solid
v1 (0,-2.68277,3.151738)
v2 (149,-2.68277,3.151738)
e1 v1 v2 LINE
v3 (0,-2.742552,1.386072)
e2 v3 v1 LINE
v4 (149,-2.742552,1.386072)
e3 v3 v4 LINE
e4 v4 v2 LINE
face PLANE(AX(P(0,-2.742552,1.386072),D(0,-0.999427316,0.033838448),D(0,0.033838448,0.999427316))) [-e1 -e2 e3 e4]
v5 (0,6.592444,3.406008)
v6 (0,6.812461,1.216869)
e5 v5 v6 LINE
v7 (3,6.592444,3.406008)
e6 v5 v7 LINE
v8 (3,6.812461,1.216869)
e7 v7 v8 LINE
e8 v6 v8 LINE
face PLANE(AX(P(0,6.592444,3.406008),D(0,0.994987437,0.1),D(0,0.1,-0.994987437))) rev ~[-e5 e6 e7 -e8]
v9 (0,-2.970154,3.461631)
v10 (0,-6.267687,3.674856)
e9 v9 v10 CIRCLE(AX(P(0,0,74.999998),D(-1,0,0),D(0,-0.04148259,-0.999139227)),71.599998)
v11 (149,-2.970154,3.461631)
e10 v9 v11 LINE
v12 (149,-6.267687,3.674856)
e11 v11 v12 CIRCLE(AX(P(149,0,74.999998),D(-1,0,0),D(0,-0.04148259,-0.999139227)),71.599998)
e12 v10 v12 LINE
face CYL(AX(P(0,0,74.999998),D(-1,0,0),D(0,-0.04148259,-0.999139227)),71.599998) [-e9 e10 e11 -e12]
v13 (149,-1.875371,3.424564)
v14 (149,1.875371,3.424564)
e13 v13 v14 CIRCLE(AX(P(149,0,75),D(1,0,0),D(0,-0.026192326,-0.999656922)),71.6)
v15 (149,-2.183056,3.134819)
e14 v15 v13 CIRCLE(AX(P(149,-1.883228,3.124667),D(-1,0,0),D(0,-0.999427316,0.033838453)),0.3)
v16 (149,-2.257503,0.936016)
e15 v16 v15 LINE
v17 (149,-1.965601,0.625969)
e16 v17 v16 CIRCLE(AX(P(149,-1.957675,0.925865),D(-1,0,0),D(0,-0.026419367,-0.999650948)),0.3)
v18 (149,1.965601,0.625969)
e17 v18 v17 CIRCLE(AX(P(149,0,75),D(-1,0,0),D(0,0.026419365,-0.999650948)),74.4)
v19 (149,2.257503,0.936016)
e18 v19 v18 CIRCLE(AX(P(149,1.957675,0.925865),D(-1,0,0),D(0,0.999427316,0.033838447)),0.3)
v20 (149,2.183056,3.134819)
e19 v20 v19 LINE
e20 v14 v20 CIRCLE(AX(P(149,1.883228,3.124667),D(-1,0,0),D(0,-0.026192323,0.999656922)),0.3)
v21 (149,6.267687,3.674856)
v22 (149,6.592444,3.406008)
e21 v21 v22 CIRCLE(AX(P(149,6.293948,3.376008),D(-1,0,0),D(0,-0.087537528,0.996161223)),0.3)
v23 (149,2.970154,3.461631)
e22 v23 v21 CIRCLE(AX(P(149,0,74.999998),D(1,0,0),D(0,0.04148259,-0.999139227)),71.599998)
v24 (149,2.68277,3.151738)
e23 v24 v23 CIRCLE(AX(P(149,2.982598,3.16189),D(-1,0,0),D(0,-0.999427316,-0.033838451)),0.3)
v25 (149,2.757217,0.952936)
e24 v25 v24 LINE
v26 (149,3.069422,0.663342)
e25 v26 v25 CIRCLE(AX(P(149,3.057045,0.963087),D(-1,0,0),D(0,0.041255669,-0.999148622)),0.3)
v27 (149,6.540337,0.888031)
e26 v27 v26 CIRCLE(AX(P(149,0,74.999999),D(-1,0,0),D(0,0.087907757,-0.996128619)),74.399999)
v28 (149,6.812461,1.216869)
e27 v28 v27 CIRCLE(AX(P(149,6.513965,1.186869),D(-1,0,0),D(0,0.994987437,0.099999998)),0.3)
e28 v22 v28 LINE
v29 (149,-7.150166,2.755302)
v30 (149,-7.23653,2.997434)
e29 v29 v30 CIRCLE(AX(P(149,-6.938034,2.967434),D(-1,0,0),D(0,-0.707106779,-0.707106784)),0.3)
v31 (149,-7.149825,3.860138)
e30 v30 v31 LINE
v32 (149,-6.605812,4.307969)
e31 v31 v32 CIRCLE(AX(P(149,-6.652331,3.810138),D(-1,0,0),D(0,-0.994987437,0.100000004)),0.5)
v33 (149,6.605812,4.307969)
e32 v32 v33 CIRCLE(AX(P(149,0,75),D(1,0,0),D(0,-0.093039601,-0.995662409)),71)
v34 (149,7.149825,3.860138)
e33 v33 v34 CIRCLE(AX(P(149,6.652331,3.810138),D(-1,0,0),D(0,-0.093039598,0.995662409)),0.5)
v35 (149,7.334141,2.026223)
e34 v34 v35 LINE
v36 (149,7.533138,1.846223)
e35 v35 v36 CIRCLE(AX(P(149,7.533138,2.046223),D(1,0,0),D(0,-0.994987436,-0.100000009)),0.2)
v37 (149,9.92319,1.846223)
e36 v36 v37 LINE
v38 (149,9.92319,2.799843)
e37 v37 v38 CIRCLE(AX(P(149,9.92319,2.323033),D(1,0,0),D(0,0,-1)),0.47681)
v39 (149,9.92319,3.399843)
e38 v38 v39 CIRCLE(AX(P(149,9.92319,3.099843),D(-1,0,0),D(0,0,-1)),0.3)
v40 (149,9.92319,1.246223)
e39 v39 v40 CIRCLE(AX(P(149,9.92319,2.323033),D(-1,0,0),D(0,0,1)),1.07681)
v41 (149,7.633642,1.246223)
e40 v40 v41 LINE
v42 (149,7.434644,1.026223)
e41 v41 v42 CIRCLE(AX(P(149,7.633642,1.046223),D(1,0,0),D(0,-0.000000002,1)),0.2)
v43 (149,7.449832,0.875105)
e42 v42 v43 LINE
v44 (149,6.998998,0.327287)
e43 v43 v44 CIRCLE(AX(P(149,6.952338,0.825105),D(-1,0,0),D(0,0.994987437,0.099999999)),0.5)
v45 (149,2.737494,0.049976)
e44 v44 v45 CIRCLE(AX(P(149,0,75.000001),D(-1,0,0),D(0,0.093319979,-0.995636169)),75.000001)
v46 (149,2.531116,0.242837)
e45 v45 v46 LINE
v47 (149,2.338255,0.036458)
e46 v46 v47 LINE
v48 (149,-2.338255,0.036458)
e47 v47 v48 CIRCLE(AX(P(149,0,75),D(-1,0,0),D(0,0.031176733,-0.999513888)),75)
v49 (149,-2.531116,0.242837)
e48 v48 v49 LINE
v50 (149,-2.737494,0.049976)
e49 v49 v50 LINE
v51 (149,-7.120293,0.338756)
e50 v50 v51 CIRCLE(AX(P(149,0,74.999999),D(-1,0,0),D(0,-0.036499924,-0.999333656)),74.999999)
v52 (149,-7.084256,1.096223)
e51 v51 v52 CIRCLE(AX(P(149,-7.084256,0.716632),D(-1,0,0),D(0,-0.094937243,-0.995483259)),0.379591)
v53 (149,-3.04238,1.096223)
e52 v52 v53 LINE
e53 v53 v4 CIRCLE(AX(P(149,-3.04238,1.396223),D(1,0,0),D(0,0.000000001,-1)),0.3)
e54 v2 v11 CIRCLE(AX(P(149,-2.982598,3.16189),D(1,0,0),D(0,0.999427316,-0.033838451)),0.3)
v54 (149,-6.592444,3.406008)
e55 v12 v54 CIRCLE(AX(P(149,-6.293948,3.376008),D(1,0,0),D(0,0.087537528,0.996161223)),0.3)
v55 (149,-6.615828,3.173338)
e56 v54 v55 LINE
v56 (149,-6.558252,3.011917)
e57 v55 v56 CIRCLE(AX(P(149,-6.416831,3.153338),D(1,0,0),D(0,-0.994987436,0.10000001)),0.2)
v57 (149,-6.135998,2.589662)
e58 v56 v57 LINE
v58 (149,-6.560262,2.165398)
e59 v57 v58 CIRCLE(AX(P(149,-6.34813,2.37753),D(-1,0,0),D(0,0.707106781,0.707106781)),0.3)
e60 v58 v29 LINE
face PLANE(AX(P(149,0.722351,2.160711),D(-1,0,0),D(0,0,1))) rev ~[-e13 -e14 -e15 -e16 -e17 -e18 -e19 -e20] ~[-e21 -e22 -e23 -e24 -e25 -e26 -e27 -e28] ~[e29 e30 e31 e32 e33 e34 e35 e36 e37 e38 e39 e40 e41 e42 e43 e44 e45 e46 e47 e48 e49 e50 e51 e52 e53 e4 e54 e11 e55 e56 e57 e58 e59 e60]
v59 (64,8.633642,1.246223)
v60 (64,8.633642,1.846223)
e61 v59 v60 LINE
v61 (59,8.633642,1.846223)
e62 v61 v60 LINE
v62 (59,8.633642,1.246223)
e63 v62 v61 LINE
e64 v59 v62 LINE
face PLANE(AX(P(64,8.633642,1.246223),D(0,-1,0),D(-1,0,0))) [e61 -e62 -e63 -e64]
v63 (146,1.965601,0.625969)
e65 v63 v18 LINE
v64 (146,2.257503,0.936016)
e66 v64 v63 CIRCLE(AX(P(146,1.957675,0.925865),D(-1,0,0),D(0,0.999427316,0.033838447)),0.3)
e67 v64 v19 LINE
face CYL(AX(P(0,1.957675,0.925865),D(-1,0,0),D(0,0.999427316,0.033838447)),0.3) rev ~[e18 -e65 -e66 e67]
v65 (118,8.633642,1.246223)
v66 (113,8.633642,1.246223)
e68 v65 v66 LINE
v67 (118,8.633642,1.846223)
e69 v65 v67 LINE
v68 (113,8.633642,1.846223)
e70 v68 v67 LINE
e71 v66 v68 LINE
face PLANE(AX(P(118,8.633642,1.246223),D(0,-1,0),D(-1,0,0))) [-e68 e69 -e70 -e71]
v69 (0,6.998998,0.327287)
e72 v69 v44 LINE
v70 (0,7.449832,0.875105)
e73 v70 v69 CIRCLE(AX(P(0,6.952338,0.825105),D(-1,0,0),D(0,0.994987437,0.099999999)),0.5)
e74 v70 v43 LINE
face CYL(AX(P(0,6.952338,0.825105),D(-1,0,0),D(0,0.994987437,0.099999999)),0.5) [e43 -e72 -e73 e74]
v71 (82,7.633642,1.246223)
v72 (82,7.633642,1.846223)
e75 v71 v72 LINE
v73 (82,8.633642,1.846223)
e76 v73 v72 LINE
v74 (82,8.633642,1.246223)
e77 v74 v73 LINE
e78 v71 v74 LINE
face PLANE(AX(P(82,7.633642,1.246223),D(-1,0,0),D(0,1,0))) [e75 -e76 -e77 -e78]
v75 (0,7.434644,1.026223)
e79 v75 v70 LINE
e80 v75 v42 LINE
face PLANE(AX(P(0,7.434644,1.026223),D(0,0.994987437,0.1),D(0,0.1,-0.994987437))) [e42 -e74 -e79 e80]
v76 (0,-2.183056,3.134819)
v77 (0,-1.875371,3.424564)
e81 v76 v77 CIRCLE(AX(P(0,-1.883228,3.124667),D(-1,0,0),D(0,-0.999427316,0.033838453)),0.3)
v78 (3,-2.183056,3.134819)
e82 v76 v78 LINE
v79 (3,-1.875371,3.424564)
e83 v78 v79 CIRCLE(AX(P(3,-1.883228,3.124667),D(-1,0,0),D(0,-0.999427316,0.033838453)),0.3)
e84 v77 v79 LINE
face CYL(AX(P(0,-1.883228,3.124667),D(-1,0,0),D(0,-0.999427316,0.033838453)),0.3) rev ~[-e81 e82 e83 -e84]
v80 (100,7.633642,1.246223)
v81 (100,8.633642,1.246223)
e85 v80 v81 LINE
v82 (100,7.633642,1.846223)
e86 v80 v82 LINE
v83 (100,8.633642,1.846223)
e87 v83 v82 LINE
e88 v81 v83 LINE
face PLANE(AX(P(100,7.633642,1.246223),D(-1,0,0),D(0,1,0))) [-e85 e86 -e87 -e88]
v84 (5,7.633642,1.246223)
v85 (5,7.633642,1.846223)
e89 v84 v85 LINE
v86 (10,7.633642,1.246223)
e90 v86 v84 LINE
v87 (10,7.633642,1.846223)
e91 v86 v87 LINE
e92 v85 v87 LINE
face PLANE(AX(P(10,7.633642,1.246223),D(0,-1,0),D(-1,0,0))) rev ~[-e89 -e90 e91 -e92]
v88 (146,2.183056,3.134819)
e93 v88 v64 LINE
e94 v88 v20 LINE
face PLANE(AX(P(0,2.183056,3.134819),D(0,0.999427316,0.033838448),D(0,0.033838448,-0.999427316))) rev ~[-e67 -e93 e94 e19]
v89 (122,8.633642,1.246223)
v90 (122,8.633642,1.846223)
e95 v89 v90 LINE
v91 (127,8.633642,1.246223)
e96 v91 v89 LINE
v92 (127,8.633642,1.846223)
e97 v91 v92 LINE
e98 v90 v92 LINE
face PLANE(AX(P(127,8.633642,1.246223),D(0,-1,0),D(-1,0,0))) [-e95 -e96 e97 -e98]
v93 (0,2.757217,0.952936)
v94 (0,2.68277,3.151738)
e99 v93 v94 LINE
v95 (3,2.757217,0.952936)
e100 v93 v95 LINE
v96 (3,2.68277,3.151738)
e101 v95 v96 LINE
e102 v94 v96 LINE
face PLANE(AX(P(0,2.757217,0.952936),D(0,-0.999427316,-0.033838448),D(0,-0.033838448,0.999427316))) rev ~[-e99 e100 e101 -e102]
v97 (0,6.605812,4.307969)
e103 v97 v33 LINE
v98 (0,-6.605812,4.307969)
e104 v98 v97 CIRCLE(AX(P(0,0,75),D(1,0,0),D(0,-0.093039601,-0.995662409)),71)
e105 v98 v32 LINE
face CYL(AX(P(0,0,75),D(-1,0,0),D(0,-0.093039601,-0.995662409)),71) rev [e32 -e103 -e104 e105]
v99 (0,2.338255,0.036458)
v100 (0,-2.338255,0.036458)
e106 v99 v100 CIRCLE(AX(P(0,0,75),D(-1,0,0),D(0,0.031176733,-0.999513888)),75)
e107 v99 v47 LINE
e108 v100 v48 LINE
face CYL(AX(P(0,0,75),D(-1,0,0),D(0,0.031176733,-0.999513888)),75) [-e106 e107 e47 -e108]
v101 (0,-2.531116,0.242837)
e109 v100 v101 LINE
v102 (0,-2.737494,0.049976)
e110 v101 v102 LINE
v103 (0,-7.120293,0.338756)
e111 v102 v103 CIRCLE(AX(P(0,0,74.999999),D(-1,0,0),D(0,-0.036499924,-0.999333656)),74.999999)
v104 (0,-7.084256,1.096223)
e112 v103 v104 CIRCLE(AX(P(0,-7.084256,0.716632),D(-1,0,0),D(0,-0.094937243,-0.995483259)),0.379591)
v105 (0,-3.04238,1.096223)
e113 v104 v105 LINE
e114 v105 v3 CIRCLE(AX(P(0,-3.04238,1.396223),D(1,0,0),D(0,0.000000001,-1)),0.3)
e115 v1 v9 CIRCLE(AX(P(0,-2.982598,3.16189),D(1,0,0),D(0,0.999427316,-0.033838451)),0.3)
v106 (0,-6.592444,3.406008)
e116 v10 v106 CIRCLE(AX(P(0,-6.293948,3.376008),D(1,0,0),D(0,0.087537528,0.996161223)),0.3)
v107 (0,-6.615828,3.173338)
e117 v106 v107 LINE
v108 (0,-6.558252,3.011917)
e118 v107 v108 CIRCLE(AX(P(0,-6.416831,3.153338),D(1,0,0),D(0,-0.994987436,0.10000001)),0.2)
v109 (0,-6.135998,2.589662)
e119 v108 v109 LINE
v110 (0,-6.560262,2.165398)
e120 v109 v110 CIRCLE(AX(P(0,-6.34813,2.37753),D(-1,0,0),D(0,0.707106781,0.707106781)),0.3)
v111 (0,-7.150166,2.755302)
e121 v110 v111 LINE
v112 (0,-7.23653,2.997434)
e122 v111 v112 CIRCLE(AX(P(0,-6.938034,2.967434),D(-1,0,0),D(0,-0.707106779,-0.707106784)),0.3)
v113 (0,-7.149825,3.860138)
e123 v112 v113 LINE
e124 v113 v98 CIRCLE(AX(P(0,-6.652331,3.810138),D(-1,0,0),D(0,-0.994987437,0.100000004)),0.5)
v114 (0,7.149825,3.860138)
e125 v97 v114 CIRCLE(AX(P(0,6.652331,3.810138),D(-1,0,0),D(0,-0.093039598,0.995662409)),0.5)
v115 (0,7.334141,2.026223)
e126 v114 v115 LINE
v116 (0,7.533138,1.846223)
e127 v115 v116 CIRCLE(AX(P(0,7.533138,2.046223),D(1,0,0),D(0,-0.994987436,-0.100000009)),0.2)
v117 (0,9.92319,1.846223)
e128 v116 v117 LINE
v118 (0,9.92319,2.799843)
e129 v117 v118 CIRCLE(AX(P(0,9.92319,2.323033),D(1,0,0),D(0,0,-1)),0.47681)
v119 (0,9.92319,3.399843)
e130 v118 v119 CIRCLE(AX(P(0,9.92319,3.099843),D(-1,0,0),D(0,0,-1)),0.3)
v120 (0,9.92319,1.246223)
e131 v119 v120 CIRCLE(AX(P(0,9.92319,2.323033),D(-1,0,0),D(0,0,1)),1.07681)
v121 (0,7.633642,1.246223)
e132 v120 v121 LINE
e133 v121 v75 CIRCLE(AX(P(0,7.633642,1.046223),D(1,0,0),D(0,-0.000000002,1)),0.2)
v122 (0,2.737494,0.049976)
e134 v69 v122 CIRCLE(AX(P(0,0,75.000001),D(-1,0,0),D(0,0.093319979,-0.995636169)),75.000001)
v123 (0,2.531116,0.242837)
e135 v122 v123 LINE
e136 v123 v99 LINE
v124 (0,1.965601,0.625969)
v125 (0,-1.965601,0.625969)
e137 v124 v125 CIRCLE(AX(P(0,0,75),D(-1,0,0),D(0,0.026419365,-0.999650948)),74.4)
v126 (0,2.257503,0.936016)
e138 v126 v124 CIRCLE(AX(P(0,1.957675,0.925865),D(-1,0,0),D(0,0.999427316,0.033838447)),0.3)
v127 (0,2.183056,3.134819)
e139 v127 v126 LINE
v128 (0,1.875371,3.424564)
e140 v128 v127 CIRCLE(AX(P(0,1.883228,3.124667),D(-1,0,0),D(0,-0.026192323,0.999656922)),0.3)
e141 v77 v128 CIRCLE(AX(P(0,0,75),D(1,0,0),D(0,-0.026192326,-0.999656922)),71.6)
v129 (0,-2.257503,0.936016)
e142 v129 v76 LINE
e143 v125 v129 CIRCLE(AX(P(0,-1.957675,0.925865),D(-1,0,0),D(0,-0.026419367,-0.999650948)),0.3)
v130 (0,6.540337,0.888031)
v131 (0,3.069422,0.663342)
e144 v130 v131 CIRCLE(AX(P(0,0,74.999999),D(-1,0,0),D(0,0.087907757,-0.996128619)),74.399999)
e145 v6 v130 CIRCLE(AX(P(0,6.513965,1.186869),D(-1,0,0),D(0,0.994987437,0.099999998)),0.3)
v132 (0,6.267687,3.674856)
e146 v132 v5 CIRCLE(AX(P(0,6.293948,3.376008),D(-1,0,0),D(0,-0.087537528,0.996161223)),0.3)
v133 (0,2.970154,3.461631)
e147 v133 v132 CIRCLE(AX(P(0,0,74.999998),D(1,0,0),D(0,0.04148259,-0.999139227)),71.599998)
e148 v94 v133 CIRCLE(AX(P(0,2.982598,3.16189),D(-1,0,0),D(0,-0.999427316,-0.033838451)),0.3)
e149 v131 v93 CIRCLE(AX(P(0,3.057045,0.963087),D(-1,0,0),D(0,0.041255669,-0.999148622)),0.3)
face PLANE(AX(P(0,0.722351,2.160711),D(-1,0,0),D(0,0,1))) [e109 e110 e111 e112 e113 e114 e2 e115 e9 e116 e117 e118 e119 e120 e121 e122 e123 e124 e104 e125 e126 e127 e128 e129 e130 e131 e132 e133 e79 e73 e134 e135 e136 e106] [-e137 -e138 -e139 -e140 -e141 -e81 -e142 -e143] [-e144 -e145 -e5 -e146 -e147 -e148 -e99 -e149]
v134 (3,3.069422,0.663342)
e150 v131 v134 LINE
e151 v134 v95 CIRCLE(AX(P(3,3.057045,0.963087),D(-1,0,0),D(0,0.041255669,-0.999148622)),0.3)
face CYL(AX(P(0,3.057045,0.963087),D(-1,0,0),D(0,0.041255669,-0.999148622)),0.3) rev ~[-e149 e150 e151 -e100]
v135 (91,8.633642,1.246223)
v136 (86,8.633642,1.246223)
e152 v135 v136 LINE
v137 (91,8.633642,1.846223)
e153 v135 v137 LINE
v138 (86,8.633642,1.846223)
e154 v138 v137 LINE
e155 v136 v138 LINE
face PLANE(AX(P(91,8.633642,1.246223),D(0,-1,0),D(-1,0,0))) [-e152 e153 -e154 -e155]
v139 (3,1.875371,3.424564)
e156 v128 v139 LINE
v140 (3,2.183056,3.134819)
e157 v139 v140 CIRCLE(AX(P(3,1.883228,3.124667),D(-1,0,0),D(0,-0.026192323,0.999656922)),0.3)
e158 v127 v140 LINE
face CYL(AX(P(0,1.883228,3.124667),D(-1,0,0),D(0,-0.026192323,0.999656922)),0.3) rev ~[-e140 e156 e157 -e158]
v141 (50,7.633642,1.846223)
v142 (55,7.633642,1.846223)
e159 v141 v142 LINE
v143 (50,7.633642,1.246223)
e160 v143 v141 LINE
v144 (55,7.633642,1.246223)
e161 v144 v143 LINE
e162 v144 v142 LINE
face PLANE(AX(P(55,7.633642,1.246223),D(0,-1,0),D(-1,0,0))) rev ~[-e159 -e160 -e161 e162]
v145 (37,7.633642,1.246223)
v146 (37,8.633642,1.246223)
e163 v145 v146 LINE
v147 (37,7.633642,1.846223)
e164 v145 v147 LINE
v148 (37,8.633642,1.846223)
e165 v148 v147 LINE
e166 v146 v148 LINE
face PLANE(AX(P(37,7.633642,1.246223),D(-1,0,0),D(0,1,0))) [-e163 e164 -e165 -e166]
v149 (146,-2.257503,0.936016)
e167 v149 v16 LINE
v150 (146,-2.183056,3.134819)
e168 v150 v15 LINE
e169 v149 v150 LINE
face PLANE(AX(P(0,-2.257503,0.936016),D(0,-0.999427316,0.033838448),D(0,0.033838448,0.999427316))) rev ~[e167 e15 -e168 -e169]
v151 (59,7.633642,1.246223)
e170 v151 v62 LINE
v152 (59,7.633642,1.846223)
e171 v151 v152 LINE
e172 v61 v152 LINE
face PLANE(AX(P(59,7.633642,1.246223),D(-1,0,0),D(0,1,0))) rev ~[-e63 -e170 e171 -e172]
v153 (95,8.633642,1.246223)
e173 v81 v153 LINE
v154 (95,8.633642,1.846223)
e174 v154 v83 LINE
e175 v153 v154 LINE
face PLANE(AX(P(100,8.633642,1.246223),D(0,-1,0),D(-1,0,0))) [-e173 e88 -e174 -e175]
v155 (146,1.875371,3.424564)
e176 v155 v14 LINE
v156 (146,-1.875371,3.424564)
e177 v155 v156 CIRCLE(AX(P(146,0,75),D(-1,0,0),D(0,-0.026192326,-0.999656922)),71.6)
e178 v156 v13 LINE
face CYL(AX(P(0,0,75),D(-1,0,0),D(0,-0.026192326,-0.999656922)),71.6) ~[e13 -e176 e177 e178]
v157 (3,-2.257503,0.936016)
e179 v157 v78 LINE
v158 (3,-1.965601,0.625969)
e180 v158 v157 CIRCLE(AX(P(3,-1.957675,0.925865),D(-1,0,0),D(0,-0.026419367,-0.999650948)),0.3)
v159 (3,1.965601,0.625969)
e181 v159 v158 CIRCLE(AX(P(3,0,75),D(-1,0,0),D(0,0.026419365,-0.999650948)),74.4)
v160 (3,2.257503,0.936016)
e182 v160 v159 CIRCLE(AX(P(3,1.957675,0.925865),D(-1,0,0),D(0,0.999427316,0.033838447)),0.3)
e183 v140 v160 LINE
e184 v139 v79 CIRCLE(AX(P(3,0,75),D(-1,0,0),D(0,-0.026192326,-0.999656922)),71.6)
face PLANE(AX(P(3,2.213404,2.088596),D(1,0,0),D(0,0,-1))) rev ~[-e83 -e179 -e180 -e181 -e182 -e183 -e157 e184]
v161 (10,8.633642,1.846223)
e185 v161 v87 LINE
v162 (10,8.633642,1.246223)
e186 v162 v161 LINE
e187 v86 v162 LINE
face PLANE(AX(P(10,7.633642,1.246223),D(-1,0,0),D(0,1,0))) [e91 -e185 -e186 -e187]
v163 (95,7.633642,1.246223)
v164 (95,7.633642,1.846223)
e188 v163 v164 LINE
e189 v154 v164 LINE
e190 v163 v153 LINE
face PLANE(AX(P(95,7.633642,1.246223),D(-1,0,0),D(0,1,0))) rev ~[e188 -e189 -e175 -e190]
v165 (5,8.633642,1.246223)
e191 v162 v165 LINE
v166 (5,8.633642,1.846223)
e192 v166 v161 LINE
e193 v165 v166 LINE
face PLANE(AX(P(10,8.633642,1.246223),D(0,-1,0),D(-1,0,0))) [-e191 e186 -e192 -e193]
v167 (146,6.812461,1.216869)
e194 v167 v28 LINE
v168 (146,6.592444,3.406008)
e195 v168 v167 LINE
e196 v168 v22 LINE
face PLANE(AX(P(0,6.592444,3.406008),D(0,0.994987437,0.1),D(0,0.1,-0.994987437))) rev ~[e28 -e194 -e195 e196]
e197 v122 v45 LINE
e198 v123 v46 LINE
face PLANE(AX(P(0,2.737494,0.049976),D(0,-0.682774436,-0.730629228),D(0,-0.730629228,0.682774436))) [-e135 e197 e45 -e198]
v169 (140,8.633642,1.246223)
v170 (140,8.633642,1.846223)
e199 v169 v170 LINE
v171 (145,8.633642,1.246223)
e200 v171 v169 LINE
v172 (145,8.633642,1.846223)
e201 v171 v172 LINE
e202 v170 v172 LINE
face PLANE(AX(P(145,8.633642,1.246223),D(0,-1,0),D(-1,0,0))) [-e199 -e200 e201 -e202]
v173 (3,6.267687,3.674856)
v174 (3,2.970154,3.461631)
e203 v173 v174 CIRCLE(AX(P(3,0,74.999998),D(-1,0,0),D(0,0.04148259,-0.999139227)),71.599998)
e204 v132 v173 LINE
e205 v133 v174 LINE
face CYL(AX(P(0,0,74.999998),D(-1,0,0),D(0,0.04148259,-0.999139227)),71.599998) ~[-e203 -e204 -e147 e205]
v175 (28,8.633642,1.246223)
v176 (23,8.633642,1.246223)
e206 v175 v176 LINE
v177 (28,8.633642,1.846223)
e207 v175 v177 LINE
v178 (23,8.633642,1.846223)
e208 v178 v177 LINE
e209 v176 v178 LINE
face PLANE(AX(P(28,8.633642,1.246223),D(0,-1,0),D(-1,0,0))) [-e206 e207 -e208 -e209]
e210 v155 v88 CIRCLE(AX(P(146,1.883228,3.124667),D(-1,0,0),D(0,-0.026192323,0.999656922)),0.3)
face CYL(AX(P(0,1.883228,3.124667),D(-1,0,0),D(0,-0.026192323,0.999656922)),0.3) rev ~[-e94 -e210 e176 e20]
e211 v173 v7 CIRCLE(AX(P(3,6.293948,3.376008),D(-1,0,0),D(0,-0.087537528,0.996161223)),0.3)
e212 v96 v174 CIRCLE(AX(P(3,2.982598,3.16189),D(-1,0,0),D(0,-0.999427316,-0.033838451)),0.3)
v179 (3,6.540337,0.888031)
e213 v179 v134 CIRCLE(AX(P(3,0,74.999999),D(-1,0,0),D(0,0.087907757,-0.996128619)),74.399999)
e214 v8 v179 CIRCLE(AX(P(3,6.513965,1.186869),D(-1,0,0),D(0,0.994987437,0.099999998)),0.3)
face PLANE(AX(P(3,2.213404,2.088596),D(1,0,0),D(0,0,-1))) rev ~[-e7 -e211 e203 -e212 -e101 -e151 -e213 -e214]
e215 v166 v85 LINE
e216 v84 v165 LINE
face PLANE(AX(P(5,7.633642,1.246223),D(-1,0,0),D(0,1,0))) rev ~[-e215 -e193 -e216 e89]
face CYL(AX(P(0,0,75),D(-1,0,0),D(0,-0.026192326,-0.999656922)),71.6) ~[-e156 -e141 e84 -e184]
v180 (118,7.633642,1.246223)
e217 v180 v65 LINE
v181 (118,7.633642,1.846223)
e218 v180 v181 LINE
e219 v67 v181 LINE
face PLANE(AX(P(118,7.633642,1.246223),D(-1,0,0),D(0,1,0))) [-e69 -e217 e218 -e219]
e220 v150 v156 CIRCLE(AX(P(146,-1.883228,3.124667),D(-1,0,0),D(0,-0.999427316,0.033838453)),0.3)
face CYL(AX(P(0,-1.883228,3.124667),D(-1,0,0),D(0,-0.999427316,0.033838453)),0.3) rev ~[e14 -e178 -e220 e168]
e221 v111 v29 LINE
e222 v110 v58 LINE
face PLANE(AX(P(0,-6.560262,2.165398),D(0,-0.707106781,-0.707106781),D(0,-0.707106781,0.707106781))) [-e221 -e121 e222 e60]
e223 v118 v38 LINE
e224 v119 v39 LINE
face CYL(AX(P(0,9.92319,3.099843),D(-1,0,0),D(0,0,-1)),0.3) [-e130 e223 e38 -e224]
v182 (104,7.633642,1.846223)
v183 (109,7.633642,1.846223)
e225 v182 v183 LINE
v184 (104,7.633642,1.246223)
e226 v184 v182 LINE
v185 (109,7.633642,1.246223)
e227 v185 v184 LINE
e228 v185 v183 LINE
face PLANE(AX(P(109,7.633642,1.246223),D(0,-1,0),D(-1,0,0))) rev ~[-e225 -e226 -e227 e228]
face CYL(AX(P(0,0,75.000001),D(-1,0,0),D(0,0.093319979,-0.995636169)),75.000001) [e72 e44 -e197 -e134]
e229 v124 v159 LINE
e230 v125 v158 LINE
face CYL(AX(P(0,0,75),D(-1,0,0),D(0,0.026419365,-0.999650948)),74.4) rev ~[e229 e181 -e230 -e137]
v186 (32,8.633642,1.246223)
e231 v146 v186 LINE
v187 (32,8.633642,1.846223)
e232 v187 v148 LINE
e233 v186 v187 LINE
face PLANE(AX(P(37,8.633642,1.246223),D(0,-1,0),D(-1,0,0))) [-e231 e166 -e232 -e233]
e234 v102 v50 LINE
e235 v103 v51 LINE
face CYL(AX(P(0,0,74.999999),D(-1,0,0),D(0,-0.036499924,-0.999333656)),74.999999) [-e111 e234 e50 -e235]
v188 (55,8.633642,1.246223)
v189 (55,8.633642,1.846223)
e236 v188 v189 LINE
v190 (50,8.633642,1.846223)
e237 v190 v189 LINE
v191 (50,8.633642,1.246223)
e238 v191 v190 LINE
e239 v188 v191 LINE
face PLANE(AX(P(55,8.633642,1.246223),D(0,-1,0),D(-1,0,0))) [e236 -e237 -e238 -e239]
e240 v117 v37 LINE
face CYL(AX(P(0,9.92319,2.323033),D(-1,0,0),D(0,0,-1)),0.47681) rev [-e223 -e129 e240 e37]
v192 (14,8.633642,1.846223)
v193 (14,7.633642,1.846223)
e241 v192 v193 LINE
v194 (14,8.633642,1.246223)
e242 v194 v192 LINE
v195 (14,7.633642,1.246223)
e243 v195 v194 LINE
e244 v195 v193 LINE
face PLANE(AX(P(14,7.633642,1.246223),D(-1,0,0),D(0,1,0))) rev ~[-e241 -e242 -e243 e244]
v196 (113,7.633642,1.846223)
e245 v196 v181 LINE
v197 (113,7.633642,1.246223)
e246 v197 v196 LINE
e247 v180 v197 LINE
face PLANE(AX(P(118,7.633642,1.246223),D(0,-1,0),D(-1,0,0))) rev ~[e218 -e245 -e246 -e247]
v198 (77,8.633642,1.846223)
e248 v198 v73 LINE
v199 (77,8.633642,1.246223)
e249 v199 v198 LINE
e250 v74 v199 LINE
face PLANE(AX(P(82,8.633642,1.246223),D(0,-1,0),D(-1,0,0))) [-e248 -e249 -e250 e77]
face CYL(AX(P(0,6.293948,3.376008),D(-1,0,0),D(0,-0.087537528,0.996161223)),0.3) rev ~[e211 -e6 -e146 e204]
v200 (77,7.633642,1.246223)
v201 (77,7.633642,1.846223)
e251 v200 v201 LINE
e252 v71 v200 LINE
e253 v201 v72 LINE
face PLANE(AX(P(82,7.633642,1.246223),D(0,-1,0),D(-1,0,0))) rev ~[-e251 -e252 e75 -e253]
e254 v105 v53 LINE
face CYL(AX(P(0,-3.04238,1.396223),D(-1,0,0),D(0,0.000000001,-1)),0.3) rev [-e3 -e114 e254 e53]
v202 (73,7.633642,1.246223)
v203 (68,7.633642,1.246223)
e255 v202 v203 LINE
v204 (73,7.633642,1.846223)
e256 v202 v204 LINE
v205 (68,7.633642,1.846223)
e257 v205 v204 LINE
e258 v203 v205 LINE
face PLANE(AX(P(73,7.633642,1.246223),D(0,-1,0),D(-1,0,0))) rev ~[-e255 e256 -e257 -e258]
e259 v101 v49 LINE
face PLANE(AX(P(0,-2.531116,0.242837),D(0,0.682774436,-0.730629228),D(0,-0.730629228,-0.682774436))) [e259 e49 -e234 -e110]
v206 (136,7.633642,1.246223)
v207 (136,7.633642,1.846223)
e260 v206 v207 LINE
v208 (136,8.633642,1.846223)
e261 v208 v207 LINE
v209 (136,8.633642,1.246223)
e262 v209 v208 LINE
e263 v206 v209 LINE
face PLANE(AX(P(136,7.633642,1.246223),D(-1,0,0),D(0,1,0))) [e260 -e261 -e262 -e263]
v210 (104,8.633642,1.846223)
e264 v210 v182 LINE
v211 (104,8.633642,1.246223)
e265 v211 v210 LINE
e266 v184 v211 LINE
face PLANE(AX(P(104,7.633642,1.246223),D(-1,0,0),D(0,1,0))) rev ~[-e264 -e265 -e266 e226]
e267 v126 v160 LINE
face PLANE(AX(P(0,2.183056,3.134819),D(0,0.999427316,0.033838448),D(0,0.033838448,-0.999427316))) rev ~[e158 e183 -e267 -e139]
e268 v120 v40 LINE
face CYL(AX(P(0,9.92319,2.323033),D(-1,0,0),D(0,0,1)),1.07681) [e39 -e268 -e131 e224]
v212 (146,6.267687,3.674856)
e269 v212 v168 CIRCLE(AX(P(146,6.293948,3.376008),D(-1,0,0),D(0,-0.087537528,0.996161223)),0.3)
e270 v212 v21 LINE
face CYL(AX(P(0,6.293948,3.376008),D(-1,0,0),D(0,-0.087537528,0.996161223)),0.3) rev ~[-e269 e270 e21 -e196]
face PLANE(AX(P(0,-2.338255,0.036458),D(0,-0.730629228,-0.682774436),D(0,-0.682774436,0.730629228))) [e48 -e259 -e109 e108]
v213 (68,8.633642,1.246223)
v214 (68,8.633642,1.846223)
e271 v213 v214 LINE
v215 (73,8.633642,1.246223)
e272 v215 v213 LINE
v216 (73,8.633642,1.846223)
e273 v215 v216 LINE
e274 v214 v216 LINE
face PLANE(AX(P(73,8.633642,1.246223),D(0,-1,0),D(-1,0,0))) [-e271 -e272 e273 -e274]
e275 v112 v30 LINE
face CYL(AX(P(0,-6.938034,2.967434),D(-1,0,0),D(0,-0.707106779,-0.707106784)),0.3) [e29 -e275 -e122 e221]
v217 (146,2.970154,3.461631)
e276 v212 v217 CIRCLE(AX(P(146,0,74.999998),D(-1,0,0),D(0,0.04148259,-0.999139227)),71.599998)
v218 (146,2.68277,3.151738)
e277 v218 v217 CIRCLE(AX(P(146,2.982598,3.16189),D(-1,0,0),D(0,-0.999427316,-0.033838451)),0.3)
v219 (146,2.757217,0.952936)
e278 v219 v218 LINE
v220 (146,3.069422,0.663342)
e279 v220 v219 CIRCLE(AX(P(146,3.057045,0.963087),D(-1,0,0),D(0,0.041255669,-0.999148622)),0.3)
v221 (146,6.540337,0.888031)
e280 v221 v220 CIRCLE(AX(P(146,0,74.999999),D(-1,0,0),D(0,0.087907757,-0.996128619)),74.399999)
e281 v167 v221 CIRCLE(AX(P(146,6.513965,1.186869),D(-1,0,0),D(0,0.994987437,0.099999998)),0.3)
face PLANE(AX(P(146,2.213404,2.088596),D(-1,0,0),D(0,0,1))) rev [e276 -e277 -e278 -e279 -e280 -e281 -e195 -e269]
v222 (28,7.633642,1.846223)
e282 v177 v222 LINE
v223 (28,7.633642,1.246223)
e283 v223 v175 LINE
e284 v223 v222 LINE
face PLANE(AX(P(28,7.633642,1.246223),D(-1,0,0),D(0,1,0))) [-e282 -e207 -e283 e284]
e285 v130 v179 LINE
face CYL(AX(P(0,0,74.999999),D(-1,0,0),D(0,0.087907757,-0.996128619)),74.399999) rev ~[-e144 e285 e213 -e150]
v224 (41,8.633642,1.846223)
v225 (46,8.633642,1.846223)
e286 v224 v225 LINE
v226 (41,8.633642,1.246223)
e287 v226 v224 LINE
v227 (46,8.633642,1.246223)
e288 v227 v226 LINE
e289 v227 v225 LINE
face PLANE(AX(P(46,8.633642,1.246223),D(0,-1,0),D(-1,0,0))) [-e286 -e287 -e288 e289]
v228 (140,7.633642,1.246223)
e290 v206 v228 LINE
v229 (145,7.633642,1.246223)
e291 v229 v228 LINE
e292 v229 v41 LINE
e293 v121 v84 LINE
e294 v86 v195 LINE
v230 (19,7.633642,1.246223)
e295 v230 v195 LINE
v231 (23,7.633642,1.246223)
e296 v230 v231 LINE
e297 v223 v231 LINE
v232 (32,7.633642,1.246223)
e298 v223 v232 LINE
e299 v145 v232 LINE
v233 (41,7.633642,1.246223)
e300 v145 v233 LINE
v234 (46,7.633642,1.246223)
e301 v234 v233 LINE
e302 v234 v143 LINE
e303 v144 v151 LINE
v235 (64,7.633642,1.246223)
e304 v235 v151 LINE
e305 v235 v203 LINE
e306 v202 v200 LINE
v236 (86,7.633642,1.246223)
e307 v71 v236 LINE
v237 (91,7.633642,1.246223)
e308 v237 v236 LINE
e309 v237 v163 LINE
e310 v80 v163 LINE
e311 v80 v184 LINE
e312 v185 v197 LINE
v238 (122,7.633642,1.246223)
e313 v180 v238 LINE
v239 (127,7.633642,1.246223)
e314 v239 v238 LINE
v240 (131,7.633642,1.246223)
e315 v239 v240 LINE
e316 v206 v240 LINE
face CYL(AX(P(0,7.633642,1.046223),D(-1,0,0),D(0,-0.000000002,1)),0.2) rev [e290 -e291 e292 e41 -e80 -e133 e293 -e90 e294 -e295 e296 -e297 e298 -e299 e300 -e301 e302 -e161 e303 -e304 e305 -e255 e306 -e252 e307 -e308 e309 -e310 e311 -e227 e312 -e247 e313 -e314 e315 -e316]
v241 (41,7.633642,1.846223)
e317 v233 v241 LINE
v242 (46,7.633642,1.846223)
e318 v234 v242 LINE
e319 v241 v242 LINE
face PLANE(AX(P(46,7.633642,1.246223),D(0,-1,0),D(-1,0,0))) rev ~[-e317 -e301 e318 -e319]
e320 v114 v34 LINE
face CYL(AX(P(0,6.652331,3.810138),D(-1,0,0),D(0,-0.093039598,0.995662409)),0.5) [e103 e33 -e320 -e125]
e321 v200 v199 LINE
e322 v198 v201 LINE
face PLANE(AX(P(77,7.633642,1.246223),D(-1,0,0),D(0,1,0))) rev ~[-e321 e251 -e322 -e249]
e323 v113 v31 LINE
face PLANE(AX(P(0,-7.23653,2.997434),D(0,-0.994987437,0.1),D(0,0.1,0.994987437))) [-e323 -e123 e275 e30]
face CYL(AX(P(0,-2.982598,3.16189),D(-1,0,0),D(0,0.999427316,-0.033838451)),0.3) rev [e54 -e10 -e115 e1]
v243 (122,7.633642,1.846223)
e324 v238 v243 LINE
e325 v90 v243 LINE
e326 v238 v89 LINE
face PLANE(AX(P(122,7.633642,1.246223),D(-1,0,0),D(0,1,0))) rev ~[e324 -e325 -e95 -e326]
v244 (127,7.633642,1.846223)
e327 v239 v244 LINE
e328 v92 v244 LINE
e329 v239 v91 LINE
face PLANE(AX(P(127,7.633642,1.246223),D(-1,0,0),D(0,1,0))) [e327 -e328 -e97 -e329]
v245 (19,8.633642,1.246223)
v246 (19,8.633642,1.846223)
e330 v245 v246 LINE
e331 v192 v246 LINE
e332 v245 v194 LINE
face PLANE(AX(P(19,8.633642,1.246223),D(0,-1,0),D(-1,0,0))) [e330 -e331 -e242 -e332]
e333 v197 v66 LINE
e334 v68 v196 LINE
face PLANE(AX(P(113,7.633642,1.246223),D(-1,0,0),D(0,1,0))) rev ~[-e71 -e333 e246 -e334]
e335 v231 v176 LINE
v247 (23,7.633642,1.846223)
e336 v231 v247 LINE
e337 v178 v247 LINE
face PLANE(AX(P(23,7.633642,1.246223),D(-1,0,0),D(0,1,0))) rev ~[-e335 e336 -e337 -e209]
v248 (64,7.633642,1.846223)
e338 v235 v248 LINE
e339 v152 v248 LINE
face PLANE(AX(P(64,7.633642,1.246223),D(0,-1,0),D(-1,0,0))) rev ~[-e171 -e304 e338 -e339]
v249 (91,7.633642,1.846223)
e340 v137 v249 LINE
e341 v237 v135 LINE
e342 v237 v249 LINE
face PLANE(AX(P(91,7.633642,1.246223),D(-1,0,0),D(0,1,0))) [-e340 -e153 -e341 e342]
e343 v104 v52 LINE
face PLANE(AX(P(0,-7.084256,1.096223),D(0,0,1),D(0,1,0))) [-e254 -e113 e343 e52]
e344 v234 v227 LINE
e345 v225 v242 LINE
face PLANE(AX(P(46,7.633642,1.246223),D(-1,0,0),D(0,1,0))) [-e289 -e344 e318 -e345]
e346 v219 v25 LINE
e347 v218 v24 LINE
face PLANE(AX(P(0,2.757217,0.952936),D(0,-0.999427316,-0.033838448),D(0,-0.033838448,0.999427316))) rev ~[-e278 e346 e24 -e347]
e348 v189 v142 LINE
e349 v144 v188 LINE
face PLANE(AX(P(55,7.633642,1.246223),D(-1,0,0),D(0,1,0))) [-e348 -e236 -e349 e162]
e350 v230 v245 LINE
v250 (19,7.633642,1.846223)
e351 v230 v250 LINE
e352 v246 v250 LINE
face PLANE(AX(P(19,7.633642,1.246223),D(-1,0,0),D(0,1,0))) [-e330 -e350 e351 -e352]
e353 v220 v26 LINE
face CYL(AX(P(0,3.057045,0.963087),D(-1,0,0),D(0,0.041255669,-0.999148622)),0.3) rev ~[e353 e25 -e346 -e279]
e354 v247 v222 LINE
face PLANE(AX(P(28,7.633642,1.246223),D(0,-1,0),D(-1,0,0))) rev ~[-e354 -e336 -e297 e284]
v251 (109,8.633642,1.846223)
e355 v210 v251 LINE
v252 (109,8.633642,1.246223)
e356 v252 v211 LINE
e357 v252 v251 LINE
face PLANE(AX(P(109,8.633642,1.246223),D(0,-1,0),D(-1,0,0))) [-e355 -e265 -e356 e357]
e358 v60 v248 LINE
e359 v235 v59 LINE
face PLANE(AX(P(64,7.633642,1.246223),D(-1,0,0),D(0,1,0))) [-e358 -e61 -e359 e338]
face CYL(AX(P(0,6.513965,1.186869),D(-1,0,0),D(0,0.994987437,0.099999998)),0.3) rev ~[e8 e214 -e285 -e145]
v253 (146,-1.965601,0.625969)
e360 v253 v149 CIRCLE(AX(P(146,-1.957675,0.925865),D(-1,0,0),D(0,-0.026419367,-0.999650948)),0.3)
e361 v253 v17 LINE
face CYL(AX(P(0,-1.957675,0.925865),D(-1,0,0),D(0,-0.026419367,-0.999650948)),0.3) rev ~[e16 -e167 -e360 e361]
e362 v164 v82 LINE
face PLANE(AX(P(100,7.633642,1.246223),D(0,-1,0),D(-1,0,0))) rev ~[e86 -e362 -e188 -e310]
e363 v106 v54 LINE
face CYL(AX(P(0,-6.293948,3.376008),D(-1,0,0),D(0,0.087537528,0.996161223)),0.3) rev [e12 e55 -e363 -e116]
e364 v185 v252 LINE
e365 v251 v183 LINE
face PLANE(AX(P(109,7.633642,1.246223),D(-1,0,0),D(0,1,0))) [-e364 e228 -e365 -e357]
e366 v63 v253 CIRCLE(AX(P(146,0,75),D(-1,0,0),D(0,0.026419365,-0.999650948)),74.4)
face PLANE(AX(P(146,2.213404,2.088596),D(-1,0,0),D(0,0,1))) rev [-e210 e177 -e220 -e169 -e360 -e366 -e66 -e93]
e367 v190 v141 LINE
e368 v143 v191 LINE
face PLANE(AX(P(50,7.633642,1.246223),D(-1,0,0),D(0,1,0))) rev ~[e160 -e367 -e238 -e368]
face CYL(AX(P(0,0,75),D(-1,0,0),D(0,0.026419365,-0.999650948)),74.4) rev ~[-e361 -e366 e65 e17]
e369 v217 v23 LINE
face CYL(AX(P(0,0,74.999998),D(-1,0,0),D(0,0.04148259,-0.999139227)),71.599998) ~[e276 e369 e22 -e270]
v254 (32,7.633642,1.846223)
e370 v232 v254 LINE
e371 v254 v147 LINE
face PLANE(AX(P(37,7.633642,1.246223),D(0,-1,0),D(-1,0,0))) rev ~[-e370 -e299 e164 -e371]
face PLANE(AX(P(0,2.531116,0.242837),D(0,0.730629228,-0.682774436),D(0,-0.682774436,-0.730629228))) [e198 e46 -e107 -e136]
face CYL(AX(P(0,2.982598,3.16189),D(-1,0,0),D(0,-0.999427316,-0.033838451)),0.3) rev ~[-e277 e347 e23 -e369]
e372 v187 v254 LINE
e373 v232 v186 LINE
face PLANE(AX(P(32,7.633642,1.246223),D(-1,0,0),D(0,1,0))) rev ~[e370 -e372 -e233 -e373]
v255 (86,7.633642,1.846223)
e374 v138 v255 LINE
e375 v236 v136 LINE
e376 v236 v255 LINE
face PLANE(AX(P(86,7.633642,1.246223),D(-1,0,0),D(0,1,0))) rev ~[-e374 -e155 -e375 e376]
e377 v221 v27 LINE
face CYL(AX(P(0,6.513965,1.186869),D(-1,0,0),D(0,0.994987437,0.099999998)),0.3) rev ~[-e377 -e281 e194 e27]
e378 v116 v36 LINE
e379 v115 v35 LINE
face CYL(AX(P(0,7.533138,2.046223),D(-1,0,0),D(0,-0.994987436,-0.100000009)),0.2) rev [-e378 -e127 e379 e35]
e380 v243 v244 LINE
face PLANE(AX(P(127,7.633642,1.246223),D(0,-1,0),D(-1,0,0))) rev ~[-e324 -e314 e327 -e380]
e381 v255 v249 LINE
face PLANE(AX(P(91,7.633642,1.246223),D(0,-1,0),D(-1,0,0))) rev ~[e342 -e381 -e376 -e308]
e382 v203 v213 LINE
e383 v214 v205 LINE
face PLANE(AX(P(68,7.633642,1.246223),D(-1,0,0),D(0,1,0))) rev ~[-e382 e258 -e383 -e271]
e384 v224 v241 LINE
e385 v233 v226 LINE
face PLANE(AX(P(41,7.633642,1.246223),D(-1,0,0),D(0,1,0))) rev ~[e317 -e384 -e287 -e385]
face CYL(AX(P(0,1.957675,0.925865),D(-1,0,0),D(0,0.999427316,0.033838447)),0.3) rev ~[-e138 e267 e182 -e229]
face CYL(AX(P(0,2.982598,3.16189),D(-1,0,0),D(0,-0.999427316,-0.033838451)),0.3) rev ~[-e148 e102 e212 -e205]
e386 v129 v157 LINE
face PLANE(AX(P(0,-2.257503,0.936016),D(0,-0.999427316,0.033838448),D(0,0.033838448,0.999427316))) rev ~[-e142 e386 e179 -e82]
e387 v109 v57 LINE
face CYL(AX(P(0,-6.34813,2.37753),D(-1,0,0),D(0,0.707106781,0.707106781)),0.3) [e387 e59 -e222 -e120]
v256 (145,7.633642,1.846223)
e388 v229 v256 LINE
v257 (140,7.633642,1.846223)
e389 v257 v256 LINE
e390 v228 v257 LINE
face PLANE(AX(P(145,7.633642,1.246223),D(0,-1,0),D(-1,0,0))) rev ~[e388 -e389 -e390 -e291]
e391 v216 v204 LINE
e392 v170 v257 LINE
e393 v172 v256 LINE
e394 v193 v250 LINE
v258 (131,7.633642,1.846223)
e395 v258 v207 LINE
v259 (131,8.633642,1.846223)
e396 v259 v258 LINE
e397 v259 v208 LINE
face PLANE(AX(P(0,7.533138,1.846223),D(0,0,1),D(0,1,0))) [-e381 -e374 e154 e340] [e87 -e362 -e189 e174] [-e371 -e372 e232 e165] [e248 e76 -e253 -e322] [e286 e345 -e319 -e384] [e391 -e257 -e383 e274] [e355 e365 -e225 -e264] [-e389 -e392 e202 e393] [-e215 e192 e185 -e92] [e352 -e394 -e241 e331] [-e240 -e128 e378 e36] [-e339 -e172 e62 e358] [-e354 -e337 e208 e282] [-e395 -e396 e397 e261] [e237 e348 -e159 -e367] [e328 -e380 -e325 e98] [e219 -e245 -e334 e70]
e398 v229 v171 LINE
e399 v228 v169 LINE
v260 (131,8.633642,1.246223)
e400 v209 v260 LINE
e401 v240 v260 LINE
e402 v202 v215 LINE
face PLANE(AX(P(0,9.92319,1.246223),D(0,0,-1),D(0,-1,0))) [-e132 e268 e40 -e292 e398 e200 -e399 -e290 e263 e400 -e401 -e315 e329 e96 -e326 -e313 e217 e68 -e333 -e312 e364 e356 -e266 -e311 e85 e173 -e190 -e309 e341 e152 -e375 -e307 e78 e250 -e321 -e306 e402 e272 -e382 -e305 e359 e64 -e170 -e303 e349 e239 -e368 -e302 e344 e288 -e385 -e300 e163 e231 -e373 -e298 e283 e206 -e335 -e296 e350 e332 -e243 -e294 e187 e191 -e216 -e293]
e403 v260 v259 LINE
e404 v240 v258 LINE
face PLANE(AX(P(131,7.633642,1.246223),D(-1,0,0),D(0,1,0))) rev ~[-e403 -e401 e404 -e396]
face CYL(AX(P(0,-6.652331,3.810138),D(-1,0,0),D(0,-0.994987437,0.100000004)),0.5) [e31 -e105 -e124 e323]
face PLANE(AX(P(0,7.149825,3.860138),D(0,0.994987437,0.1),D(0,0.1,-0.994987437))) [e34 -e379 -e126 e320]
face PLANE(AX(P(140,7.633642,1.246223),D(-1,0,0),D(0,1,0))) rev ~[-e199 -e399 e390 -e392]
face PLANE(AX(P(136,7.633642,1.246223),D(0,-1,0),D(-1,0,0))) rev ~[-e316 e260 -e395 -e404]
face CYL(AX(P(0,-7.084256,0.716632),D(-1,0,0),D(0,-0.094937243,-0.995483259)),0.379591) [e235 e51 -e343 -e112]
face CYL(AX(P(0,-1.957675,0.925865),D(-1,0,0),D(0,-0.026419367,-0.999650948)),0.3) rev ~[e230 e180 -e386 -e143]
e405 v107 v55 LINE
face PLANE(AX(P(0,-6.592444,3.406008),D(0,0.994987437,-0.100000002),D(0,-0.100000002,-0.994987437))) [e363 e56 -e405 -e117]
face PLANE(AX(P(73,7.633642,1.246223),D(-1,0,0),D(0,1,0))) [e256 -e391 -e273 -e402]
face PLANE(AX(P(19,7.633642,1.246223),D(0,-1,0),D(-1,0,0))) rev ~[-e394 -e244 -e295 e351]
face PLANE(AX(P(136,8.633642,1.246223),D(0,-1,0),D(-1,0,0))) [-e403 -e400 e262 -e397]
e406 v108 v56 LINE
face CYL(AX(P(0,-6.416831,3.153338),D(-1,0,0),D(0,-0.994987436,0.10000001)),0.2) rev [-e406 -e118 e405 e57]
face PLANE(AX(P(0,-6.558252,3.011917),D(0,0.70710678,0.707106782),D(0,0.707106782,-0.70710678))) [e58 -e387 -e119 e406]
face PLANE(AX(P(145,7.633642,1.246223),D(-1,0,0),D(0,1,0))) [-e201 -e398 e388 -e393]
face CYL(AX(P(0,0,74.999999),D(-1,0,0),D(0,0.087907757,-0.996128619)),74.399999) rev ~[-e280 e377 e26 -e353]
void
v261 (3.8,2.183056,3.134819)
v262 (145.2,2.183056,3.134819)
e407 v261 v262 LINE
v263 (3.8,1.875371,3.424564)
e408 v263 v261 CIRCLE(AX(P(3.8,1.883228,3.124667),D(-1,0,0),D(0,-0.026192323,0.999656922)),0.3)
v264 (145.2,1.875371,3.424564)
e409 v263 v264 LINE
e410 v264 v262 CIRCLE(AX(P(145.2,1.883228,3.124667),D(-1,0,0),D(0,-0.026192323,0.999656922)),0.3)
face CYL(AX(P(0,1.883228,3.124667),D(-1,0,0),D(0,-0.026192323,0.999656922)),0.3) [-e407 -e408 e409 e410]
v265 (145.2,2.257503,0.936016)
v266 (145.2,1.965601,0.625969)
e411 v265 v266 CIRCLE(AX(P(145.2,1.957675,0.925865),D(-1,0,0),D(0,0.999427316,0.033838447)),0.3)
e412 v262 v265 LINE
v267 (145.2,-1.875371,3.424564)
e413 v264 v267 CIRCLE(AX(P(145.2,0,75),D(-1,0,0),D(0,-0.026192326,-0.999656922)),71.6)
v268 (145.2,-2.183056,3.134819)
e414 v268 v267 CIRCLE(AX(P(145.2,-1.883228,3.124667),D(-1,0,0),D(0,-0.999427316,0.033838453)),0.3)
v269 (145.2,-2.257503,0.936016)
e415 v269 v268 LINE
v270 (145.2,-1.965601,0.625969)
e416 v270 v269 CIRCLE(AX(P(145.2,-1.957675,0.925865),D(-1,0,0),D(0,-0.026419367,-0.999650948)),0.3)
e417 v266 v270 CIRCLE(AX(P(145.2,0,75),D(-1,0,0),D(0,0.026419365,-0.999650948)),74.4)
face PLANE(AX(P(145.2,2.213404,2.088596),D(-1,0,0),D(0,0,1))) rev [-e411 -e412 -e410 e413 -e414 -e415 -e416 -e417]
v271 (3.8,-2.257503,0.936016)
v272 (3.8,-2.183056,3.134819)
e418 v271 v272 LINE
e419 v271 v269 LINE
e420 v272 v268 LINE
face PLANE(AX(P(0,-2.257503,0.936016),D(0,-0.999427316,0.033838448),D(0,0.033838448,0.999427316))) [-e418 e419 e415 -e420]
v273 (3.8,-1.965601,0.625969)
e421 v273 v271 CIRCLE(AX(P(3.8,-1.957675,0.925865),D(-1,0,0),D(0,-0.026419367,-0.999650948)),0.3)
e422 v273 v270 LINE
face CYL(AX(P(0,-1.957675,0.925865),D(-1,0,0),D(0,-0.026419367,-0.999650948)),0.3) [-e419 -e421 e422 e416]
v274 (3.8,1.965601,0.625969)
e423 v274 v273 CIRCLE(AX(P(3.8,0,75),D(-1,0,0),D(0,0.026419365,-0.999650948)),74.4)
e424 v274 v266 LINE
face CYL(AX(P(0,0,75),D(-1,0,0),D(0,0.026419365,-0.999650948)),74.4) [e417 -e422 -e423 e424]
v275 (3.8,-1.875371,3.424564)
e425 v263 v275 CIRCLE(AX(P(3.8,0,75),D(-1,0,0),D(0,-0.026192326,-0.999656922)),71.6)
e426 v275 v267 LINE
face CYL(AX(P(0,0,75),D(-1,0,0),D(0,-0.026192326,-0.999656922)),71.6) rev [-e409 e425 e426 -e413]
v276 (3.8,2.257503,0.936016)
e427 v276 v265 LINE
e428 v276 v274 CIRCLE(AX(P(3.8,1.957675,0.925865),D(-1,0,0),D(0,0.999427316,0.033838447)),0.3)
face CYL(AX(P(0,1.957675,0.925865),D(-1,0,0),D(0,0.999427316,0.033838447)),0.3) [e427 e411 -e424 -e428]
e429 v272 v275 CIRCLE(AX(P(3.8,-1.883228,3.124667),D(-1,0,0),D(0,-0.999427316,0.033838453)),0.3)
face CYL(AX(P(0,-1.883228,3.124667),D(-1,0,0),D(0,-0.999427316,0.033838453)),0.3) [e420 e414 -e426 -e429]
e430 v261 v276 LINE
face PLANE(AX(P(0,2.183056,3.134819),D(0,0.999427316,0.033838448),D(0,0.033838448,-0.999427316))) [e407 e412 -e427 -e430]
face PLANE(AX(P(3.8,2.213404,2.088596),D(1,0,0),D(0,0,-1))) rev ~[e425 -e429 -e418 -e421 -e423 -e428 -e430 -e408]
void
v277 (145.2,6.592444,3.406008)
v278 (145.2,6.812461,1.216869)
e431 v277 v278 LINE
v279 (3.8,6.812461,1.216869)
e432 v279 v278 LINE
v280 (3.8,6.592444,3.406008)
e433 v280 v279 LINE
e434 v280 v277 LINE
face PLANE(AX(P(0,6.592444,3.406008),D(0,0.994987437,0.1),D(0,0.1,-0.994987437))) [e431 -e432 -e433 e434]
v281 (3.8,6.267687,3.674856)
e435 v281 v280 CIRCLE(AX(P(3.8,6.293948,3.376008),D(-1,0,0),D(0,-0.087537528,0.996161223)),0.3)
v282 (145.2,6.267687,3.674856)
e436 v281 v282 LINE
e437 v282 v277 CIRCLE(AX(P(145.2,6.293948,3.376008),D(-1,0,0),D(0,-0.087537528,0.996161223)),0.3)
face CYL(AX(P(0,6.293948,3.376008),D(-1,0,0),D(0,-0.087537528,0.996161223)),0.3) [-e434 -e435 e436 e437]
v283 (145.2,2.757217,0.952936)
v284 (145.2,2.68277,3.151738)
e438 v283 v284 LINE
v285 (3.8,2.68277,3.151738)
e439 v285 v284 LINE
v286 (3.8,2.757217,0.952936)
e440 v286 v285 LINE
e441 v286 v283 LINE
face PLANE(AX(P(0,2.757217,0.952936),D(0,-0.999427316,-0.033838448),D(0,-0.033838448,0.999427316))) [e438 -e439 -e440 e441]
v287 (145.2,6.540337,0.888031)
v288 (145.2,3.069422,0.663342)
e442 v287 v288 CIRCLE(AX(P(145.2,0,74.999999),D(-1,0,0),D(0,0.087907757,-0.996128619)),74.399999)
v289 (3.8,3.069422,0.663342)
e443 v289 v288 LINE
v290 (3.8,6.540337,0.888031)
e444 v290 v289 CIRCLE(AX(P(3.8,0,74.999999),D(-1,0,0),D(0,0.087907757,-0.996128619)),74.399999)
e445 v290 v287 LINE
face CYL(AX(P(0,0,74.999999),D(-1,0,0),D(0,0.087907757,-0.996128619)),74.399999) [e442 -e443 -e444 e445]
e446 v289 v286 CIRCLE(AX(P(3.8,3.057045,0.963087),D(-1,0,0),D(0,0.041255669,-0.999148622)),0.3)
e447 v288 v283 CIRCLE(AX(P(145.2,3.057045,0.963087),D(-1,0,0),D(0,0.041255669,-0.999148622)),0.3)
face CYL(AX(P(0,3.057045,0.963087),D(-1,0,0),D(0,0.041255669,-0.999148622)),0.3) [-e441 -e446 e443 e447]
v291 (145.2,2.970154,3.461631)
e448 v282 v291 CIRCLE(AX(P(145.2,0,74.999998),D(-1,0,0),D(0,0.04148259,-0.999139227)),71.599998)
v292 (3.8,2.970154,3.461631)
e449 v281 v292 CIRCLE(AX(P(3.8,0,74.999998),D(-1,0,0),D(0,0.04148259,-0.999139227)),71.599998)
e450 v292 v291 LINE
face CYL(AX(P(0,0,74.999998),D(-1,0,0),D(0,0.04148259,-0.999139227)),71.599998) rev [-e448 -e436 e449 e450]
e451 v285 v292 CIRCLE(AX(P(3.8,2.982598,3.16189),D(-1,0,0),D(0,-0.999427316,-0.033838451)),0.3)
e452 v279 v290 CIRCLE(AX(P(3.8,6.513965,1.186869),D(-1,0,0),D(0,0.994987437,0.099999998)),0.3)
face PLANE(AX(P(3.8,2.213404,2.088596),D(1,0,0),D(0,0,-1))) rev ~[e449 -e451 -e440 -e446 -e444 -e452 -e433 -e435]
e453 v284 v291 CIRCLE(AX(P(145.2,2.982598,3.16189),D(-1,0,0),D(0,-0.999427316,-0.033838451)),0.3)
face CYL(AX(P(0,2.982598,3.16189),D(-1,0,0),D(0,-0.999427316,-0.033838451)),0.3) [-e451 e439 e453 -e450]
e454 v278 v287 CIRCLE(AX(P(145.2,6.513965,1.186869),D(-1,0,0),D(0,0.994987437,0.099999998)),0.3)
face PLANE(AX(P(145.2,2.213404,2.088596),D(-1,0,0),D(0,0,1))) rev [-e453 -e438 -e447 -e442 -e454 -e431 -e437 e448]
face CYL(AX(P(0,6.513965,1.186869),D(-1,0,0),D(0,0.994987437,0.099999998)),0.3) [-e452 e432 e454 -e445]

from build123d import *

# Parameters (mm, degrees)
BOSS_EXTRU_1_DEPTH      = 149
ESQUISSE2_W             = 5
ESQUISSE2_H             = 1
ENL_V_MAT_EXTRU_1_DEPTH = 10
BOSS_EXTRU_2_DEPTH      = 0.8


with BuildPart() as part:
    # Esquisse1 → Boss.-Extru.1 (new body)
    with BuildSketch(Plane(origin=(0, 0, 0), x_dir=(0, 0, -1), z_dir=(1, 0, 0))):
        with BuildLine():
            Line((-3.860137757, 7.149825173), (-2.026223342, 7.334140506))
            ThreePointArc((-2.026223342, 7.334140506), (-1.897899373, 7.398973915), (-1.846223342, 7.533137994))
            Line((-1.846223342, 7.533137994), (-1.846223342, 9.923189995))
            ThreePointArc((-1.846223342, 9.923189995), (-2.323033347, 10.4), (-2.799843352, 9.923189995))
            ThreePointArc((-2.799843352, 9.923189995), (-3.099843352, 9.623189995), (-3.399843352, 9.923189995))
            ThreePointArc((-3.399843352, 9.923189995), (-2.323033347, 11), (-1.246223342, 9.923189995))
            Line((-1.246223342, 9.923189995), (-1.246223342, 7.633641775))
            ThreePointArc((-1.246223342, 7.633641775), (-1.180387421, 7.485317806), (-1.026223342, 7.434644288))
            Line((-1.026223342, 7.434644288), (-0.875105396, 7.449832213))
            ThreePointArc((-0.875105396, 7.449832213), (-0.507382212, 7.338410998), (-0.327287312, 6.998998484))
            ThreePointArc((-0.327287312, 6.998998484), (-0.158294036, 4.870220563), (-0.049975817, 2.737494297))
            Line((-0.049975817, 2.737494297), (-0.242836784, 2.53111595))
            Line((-0.242836784, 2.53111595), (-0.036458437, 2.338254983))
            ThreePointArc((-0.036458437, 2.338254983), (0, 0), (-0.036458437, -2.338254983))
            Line((-0.036458437, -2.338254983), (-0.242836784, -2.53111595))
            Line((-0.242836784, -2.53111595), (-0.049975817, -2.737494297))
            ThreePointArc((-0.049975817, -2.737494297), (-0.162274501, -4.931008235), (-0.338755541, -7.12029324))
            ThreePointArc((-0.338755541, -7.12029324), (-0.734671234, -7.463418189), (-1.096223342, -7.084255902))
            Line((-1.096223342, -7.084255902), (-1.096223342, -3.042379931))
            ThreePointArc((-1.096223342, -3.042379931), (-1.180532058, -2.833867893), (-1.386071808, -2.742551736))
            Line((-1.386071808, -2.742551736), (-3.151738054, -2.682770094))
            ThreePointArc((-3.151738054, -2.682770094), (-3.365882071, -2.762627683), (-3.461631357, -2.970153511))
            ThreePointArc((-3.461631357, -2.970153511), (-3.549218264, -4.620150364), (-3.674856447, -6.267686745))
            ThreePointArc((-3.674856447, -6.267686745), (-3.607097173, -6.485253599), (-3.40600808, -6.592444233))
            Line((-3.40600808, -6.592444233), (-3.173338102, -6.615828446))
            ThreePointArc((-3.173338102, -6.615828446), (-3.086147781, -6.605206809), (-3.011916745, -6.558252315))
            Line((-3.011916745, -6.558252315), (-2.589662269, -6.135997838))
            ThreePointArc((-2.589662269, -6.135997838), (-2.1653982, -6.135997838), (-2.1653982, -6.560261907))
            Line((-2.1653982, -6.560261907), (-2.755302232, -7.150165939))
            ThreePointArc((-2.755302232, -7.150165939), (-2.866648786, -7.22059768), (-2.997434267, -7.236530136))
            Line((-2.997434267, -7.236530136), (-3.860137757, -7.149825173))
            ThreePointArc((-3.860137757, -7.149825173), (-4.19616552, -6.970108995), (-4.307968961, -6.605811654))
            ThreePointArc((-4.307968961, -6.605811654), (-4, 0), (-4.307968961, 6.605811654))
            ThreePointArc((-4.307968961, 6.605811654), (-4.19616552, 6.970108995), (-3.860137757, 7.149825173))
        make_face()
        with BuildLine():
            Line((-3.40600808, 6.592444233), (-1.216869301, 6.812460959))
            ThreePointArc((-1.216869301, 6.812460959), (-0.995606652, 6.745089367), (-0.888030716, 6.540337055))
            ThreePointArc((-0.888030716, 6.540337055), (-0.755400782, 4.806192566), (-0.663342485, 3.069421689))
            ThreePointArc((-0.663342485, 3.069421689), (-0.743139633, 2.853027528), (-0.952935537, 2.757216794))
            Line((-0.952935537, 2.757216794), (-3.151738054, 2.682770094))
            ThreePointArc((-3.151738054, 2.682770094), (-3.365882071, 2.762627683), (-3.461631357, 2.970153511))
            ThreePointArc((-3.461631357, 2.970153511), (-3.549218264, 4.620150364), (-3.674856447, 6.267686745))
            ThreePointArc((-3.674856447, 6.267686745), (-3.607097173, 6.485253599), (-3.40600808, 6.592444233))
        make_face(mode=Mode.SUBTRACT)
        with BuildLine():
            Line((-3.13481883, 2.183056436), (-0.936016313, 2.257503136))
            ThreePointArc((-0.936016313, 2.257503136), (-0.720220399, 2.176102021), (-0.625969494, 1.965600751))
            ThreePointArc((-0.625969494, 1.965600751), (-0.6, 0), (-0.625969494, -1.965600751))
            ThreePointArc((-0.625969494, -1.965600751), (-0.720220399, -2.176102021), (-0.936016313, -2.257503136))
            Line((-0.936016313, -2.257503136), (-3.13481883, -2.183056436))
            ThreePointArc((-3.13481883, -2.183056436), (-3.343071021, -2.088897423), (-3.424564372, -1.875370543))
            ThreePointArc((-3.424564372, -1.875370543), (-3.4, 0), (-3.424564372, 1.875370543))
            ThreePointArc((-3.424564372, 1.875370543), (-3.343071021, 2.088897423), (-3.13481883, 2.183056436))
        make_face(mode=Mode.SUBTRACT)
    extrude(amount=BOSS_EXTRU_1_DEPTH)

    # Esquisse2 → Enlèv. mat.-Extru.1 (cut)
    with BuildSketch(Plane(origin=(0, 0, 1.246223342), x_dir=(-1, 0, 0), z_dir=(0, 0, -1))):
        with Locations((-16.5, 8.133641775)):
            Rectangle(ESQUISSE2_W, ESQUISSE2_H)
        with Locations((-25.5, 8.133641775)):
            Rectangle(ESQUISSE2_W, ESQUISSE2_H)
        with Locations((-34.5, 8.133641775)):
            Rectangle(ESQUISSE2_W, ESQUISSE2_H)
        with Locations((-43.5, 8.133641775)):
            Rectangle(ESQUISSE2_W, ESQUISSE2_H)
        with Locations((-52.5, 8.133641775)):
            Rectangle(ESQUISSE2_W, ESQUISSE2_H)
        with Locations((-61.5, 8.133641775)):
            Rectangle(ESQUISSE2_W, ESQUISSE2_H)
        with Locations((-70.5, 8.133641775)):
            Rectangle(ESQUISSE2_W, ESQUISSE2_H)
        with Locations((-79.5, 8.133641775)):
            Rectangle(ESQUISSE2_W, ESQUISSE2_H)
        with Locations((-88.5, 8.133641775)):
            Rectangle(ESQUISSE2_W, ESQUISSE2_H)
        with Locations((-97.5, 8.133641775)):
            Rectangle(ESQUISSE2_W, ESQUISSE2_H)
        with Locations((-106.5, 8.133641775)):
            Rectangle(ESQUISSE2_W, ESQUISSE2_H)
        with Locations((-115.5, 8.133641775)):
            Rectangle(ESQUISSE2_W, ESQUISSE2_H)
        with Locations((-124.5, 8.133641775)):
            Rectangle(ESQUISSE2_W, ESQUISSE2_H)
        with Locations((-133.5, 8.133641775)):
            Rectangle(ESQUISSE2_W, ESQUISSE2_H)
        with Locations((-142.5, 8.133641775)):
            Rectangle(ESQUISSE2_W, ESQUISSE2_H)
        with Locations((-7.5, 8.133641775)):
            Rectangle(ESQUISSE2_W, ESQUISSE2_H)
    extrude(amount=-ENL_V_MAT_EXTRU_1_DEPTH, mode=Mode.SUBTRACT)

    # Esquisse3 → Boss.-Extru.2 (add)
    with BuildSketch(Plane(origin=(3, 0, 0), x_dir=(0, 0, -1), z_dir=(1, 0, 0))):
        Polygon((-0.731399953, 7.027076964), (-3.950090787, 6.781472062), (-3.644671914, 2.430217171), (-3.644671914, -2.406699487), (-0.369395227, -2.522851648), (-0.391249224, 2.569348219), align=None)
    boss_extru_2 = extrude(amount=BOSS_EXTRU_2_DEPTH)

    # Symétrie1: Boss.-Extru.2 across plane
    add(boss_extru_2.mirror(Plane(origin=(74.5, 0, 0), x_dir=(0, 0, 1), z_dir=(1, 0, 0))))


solid = part.part
